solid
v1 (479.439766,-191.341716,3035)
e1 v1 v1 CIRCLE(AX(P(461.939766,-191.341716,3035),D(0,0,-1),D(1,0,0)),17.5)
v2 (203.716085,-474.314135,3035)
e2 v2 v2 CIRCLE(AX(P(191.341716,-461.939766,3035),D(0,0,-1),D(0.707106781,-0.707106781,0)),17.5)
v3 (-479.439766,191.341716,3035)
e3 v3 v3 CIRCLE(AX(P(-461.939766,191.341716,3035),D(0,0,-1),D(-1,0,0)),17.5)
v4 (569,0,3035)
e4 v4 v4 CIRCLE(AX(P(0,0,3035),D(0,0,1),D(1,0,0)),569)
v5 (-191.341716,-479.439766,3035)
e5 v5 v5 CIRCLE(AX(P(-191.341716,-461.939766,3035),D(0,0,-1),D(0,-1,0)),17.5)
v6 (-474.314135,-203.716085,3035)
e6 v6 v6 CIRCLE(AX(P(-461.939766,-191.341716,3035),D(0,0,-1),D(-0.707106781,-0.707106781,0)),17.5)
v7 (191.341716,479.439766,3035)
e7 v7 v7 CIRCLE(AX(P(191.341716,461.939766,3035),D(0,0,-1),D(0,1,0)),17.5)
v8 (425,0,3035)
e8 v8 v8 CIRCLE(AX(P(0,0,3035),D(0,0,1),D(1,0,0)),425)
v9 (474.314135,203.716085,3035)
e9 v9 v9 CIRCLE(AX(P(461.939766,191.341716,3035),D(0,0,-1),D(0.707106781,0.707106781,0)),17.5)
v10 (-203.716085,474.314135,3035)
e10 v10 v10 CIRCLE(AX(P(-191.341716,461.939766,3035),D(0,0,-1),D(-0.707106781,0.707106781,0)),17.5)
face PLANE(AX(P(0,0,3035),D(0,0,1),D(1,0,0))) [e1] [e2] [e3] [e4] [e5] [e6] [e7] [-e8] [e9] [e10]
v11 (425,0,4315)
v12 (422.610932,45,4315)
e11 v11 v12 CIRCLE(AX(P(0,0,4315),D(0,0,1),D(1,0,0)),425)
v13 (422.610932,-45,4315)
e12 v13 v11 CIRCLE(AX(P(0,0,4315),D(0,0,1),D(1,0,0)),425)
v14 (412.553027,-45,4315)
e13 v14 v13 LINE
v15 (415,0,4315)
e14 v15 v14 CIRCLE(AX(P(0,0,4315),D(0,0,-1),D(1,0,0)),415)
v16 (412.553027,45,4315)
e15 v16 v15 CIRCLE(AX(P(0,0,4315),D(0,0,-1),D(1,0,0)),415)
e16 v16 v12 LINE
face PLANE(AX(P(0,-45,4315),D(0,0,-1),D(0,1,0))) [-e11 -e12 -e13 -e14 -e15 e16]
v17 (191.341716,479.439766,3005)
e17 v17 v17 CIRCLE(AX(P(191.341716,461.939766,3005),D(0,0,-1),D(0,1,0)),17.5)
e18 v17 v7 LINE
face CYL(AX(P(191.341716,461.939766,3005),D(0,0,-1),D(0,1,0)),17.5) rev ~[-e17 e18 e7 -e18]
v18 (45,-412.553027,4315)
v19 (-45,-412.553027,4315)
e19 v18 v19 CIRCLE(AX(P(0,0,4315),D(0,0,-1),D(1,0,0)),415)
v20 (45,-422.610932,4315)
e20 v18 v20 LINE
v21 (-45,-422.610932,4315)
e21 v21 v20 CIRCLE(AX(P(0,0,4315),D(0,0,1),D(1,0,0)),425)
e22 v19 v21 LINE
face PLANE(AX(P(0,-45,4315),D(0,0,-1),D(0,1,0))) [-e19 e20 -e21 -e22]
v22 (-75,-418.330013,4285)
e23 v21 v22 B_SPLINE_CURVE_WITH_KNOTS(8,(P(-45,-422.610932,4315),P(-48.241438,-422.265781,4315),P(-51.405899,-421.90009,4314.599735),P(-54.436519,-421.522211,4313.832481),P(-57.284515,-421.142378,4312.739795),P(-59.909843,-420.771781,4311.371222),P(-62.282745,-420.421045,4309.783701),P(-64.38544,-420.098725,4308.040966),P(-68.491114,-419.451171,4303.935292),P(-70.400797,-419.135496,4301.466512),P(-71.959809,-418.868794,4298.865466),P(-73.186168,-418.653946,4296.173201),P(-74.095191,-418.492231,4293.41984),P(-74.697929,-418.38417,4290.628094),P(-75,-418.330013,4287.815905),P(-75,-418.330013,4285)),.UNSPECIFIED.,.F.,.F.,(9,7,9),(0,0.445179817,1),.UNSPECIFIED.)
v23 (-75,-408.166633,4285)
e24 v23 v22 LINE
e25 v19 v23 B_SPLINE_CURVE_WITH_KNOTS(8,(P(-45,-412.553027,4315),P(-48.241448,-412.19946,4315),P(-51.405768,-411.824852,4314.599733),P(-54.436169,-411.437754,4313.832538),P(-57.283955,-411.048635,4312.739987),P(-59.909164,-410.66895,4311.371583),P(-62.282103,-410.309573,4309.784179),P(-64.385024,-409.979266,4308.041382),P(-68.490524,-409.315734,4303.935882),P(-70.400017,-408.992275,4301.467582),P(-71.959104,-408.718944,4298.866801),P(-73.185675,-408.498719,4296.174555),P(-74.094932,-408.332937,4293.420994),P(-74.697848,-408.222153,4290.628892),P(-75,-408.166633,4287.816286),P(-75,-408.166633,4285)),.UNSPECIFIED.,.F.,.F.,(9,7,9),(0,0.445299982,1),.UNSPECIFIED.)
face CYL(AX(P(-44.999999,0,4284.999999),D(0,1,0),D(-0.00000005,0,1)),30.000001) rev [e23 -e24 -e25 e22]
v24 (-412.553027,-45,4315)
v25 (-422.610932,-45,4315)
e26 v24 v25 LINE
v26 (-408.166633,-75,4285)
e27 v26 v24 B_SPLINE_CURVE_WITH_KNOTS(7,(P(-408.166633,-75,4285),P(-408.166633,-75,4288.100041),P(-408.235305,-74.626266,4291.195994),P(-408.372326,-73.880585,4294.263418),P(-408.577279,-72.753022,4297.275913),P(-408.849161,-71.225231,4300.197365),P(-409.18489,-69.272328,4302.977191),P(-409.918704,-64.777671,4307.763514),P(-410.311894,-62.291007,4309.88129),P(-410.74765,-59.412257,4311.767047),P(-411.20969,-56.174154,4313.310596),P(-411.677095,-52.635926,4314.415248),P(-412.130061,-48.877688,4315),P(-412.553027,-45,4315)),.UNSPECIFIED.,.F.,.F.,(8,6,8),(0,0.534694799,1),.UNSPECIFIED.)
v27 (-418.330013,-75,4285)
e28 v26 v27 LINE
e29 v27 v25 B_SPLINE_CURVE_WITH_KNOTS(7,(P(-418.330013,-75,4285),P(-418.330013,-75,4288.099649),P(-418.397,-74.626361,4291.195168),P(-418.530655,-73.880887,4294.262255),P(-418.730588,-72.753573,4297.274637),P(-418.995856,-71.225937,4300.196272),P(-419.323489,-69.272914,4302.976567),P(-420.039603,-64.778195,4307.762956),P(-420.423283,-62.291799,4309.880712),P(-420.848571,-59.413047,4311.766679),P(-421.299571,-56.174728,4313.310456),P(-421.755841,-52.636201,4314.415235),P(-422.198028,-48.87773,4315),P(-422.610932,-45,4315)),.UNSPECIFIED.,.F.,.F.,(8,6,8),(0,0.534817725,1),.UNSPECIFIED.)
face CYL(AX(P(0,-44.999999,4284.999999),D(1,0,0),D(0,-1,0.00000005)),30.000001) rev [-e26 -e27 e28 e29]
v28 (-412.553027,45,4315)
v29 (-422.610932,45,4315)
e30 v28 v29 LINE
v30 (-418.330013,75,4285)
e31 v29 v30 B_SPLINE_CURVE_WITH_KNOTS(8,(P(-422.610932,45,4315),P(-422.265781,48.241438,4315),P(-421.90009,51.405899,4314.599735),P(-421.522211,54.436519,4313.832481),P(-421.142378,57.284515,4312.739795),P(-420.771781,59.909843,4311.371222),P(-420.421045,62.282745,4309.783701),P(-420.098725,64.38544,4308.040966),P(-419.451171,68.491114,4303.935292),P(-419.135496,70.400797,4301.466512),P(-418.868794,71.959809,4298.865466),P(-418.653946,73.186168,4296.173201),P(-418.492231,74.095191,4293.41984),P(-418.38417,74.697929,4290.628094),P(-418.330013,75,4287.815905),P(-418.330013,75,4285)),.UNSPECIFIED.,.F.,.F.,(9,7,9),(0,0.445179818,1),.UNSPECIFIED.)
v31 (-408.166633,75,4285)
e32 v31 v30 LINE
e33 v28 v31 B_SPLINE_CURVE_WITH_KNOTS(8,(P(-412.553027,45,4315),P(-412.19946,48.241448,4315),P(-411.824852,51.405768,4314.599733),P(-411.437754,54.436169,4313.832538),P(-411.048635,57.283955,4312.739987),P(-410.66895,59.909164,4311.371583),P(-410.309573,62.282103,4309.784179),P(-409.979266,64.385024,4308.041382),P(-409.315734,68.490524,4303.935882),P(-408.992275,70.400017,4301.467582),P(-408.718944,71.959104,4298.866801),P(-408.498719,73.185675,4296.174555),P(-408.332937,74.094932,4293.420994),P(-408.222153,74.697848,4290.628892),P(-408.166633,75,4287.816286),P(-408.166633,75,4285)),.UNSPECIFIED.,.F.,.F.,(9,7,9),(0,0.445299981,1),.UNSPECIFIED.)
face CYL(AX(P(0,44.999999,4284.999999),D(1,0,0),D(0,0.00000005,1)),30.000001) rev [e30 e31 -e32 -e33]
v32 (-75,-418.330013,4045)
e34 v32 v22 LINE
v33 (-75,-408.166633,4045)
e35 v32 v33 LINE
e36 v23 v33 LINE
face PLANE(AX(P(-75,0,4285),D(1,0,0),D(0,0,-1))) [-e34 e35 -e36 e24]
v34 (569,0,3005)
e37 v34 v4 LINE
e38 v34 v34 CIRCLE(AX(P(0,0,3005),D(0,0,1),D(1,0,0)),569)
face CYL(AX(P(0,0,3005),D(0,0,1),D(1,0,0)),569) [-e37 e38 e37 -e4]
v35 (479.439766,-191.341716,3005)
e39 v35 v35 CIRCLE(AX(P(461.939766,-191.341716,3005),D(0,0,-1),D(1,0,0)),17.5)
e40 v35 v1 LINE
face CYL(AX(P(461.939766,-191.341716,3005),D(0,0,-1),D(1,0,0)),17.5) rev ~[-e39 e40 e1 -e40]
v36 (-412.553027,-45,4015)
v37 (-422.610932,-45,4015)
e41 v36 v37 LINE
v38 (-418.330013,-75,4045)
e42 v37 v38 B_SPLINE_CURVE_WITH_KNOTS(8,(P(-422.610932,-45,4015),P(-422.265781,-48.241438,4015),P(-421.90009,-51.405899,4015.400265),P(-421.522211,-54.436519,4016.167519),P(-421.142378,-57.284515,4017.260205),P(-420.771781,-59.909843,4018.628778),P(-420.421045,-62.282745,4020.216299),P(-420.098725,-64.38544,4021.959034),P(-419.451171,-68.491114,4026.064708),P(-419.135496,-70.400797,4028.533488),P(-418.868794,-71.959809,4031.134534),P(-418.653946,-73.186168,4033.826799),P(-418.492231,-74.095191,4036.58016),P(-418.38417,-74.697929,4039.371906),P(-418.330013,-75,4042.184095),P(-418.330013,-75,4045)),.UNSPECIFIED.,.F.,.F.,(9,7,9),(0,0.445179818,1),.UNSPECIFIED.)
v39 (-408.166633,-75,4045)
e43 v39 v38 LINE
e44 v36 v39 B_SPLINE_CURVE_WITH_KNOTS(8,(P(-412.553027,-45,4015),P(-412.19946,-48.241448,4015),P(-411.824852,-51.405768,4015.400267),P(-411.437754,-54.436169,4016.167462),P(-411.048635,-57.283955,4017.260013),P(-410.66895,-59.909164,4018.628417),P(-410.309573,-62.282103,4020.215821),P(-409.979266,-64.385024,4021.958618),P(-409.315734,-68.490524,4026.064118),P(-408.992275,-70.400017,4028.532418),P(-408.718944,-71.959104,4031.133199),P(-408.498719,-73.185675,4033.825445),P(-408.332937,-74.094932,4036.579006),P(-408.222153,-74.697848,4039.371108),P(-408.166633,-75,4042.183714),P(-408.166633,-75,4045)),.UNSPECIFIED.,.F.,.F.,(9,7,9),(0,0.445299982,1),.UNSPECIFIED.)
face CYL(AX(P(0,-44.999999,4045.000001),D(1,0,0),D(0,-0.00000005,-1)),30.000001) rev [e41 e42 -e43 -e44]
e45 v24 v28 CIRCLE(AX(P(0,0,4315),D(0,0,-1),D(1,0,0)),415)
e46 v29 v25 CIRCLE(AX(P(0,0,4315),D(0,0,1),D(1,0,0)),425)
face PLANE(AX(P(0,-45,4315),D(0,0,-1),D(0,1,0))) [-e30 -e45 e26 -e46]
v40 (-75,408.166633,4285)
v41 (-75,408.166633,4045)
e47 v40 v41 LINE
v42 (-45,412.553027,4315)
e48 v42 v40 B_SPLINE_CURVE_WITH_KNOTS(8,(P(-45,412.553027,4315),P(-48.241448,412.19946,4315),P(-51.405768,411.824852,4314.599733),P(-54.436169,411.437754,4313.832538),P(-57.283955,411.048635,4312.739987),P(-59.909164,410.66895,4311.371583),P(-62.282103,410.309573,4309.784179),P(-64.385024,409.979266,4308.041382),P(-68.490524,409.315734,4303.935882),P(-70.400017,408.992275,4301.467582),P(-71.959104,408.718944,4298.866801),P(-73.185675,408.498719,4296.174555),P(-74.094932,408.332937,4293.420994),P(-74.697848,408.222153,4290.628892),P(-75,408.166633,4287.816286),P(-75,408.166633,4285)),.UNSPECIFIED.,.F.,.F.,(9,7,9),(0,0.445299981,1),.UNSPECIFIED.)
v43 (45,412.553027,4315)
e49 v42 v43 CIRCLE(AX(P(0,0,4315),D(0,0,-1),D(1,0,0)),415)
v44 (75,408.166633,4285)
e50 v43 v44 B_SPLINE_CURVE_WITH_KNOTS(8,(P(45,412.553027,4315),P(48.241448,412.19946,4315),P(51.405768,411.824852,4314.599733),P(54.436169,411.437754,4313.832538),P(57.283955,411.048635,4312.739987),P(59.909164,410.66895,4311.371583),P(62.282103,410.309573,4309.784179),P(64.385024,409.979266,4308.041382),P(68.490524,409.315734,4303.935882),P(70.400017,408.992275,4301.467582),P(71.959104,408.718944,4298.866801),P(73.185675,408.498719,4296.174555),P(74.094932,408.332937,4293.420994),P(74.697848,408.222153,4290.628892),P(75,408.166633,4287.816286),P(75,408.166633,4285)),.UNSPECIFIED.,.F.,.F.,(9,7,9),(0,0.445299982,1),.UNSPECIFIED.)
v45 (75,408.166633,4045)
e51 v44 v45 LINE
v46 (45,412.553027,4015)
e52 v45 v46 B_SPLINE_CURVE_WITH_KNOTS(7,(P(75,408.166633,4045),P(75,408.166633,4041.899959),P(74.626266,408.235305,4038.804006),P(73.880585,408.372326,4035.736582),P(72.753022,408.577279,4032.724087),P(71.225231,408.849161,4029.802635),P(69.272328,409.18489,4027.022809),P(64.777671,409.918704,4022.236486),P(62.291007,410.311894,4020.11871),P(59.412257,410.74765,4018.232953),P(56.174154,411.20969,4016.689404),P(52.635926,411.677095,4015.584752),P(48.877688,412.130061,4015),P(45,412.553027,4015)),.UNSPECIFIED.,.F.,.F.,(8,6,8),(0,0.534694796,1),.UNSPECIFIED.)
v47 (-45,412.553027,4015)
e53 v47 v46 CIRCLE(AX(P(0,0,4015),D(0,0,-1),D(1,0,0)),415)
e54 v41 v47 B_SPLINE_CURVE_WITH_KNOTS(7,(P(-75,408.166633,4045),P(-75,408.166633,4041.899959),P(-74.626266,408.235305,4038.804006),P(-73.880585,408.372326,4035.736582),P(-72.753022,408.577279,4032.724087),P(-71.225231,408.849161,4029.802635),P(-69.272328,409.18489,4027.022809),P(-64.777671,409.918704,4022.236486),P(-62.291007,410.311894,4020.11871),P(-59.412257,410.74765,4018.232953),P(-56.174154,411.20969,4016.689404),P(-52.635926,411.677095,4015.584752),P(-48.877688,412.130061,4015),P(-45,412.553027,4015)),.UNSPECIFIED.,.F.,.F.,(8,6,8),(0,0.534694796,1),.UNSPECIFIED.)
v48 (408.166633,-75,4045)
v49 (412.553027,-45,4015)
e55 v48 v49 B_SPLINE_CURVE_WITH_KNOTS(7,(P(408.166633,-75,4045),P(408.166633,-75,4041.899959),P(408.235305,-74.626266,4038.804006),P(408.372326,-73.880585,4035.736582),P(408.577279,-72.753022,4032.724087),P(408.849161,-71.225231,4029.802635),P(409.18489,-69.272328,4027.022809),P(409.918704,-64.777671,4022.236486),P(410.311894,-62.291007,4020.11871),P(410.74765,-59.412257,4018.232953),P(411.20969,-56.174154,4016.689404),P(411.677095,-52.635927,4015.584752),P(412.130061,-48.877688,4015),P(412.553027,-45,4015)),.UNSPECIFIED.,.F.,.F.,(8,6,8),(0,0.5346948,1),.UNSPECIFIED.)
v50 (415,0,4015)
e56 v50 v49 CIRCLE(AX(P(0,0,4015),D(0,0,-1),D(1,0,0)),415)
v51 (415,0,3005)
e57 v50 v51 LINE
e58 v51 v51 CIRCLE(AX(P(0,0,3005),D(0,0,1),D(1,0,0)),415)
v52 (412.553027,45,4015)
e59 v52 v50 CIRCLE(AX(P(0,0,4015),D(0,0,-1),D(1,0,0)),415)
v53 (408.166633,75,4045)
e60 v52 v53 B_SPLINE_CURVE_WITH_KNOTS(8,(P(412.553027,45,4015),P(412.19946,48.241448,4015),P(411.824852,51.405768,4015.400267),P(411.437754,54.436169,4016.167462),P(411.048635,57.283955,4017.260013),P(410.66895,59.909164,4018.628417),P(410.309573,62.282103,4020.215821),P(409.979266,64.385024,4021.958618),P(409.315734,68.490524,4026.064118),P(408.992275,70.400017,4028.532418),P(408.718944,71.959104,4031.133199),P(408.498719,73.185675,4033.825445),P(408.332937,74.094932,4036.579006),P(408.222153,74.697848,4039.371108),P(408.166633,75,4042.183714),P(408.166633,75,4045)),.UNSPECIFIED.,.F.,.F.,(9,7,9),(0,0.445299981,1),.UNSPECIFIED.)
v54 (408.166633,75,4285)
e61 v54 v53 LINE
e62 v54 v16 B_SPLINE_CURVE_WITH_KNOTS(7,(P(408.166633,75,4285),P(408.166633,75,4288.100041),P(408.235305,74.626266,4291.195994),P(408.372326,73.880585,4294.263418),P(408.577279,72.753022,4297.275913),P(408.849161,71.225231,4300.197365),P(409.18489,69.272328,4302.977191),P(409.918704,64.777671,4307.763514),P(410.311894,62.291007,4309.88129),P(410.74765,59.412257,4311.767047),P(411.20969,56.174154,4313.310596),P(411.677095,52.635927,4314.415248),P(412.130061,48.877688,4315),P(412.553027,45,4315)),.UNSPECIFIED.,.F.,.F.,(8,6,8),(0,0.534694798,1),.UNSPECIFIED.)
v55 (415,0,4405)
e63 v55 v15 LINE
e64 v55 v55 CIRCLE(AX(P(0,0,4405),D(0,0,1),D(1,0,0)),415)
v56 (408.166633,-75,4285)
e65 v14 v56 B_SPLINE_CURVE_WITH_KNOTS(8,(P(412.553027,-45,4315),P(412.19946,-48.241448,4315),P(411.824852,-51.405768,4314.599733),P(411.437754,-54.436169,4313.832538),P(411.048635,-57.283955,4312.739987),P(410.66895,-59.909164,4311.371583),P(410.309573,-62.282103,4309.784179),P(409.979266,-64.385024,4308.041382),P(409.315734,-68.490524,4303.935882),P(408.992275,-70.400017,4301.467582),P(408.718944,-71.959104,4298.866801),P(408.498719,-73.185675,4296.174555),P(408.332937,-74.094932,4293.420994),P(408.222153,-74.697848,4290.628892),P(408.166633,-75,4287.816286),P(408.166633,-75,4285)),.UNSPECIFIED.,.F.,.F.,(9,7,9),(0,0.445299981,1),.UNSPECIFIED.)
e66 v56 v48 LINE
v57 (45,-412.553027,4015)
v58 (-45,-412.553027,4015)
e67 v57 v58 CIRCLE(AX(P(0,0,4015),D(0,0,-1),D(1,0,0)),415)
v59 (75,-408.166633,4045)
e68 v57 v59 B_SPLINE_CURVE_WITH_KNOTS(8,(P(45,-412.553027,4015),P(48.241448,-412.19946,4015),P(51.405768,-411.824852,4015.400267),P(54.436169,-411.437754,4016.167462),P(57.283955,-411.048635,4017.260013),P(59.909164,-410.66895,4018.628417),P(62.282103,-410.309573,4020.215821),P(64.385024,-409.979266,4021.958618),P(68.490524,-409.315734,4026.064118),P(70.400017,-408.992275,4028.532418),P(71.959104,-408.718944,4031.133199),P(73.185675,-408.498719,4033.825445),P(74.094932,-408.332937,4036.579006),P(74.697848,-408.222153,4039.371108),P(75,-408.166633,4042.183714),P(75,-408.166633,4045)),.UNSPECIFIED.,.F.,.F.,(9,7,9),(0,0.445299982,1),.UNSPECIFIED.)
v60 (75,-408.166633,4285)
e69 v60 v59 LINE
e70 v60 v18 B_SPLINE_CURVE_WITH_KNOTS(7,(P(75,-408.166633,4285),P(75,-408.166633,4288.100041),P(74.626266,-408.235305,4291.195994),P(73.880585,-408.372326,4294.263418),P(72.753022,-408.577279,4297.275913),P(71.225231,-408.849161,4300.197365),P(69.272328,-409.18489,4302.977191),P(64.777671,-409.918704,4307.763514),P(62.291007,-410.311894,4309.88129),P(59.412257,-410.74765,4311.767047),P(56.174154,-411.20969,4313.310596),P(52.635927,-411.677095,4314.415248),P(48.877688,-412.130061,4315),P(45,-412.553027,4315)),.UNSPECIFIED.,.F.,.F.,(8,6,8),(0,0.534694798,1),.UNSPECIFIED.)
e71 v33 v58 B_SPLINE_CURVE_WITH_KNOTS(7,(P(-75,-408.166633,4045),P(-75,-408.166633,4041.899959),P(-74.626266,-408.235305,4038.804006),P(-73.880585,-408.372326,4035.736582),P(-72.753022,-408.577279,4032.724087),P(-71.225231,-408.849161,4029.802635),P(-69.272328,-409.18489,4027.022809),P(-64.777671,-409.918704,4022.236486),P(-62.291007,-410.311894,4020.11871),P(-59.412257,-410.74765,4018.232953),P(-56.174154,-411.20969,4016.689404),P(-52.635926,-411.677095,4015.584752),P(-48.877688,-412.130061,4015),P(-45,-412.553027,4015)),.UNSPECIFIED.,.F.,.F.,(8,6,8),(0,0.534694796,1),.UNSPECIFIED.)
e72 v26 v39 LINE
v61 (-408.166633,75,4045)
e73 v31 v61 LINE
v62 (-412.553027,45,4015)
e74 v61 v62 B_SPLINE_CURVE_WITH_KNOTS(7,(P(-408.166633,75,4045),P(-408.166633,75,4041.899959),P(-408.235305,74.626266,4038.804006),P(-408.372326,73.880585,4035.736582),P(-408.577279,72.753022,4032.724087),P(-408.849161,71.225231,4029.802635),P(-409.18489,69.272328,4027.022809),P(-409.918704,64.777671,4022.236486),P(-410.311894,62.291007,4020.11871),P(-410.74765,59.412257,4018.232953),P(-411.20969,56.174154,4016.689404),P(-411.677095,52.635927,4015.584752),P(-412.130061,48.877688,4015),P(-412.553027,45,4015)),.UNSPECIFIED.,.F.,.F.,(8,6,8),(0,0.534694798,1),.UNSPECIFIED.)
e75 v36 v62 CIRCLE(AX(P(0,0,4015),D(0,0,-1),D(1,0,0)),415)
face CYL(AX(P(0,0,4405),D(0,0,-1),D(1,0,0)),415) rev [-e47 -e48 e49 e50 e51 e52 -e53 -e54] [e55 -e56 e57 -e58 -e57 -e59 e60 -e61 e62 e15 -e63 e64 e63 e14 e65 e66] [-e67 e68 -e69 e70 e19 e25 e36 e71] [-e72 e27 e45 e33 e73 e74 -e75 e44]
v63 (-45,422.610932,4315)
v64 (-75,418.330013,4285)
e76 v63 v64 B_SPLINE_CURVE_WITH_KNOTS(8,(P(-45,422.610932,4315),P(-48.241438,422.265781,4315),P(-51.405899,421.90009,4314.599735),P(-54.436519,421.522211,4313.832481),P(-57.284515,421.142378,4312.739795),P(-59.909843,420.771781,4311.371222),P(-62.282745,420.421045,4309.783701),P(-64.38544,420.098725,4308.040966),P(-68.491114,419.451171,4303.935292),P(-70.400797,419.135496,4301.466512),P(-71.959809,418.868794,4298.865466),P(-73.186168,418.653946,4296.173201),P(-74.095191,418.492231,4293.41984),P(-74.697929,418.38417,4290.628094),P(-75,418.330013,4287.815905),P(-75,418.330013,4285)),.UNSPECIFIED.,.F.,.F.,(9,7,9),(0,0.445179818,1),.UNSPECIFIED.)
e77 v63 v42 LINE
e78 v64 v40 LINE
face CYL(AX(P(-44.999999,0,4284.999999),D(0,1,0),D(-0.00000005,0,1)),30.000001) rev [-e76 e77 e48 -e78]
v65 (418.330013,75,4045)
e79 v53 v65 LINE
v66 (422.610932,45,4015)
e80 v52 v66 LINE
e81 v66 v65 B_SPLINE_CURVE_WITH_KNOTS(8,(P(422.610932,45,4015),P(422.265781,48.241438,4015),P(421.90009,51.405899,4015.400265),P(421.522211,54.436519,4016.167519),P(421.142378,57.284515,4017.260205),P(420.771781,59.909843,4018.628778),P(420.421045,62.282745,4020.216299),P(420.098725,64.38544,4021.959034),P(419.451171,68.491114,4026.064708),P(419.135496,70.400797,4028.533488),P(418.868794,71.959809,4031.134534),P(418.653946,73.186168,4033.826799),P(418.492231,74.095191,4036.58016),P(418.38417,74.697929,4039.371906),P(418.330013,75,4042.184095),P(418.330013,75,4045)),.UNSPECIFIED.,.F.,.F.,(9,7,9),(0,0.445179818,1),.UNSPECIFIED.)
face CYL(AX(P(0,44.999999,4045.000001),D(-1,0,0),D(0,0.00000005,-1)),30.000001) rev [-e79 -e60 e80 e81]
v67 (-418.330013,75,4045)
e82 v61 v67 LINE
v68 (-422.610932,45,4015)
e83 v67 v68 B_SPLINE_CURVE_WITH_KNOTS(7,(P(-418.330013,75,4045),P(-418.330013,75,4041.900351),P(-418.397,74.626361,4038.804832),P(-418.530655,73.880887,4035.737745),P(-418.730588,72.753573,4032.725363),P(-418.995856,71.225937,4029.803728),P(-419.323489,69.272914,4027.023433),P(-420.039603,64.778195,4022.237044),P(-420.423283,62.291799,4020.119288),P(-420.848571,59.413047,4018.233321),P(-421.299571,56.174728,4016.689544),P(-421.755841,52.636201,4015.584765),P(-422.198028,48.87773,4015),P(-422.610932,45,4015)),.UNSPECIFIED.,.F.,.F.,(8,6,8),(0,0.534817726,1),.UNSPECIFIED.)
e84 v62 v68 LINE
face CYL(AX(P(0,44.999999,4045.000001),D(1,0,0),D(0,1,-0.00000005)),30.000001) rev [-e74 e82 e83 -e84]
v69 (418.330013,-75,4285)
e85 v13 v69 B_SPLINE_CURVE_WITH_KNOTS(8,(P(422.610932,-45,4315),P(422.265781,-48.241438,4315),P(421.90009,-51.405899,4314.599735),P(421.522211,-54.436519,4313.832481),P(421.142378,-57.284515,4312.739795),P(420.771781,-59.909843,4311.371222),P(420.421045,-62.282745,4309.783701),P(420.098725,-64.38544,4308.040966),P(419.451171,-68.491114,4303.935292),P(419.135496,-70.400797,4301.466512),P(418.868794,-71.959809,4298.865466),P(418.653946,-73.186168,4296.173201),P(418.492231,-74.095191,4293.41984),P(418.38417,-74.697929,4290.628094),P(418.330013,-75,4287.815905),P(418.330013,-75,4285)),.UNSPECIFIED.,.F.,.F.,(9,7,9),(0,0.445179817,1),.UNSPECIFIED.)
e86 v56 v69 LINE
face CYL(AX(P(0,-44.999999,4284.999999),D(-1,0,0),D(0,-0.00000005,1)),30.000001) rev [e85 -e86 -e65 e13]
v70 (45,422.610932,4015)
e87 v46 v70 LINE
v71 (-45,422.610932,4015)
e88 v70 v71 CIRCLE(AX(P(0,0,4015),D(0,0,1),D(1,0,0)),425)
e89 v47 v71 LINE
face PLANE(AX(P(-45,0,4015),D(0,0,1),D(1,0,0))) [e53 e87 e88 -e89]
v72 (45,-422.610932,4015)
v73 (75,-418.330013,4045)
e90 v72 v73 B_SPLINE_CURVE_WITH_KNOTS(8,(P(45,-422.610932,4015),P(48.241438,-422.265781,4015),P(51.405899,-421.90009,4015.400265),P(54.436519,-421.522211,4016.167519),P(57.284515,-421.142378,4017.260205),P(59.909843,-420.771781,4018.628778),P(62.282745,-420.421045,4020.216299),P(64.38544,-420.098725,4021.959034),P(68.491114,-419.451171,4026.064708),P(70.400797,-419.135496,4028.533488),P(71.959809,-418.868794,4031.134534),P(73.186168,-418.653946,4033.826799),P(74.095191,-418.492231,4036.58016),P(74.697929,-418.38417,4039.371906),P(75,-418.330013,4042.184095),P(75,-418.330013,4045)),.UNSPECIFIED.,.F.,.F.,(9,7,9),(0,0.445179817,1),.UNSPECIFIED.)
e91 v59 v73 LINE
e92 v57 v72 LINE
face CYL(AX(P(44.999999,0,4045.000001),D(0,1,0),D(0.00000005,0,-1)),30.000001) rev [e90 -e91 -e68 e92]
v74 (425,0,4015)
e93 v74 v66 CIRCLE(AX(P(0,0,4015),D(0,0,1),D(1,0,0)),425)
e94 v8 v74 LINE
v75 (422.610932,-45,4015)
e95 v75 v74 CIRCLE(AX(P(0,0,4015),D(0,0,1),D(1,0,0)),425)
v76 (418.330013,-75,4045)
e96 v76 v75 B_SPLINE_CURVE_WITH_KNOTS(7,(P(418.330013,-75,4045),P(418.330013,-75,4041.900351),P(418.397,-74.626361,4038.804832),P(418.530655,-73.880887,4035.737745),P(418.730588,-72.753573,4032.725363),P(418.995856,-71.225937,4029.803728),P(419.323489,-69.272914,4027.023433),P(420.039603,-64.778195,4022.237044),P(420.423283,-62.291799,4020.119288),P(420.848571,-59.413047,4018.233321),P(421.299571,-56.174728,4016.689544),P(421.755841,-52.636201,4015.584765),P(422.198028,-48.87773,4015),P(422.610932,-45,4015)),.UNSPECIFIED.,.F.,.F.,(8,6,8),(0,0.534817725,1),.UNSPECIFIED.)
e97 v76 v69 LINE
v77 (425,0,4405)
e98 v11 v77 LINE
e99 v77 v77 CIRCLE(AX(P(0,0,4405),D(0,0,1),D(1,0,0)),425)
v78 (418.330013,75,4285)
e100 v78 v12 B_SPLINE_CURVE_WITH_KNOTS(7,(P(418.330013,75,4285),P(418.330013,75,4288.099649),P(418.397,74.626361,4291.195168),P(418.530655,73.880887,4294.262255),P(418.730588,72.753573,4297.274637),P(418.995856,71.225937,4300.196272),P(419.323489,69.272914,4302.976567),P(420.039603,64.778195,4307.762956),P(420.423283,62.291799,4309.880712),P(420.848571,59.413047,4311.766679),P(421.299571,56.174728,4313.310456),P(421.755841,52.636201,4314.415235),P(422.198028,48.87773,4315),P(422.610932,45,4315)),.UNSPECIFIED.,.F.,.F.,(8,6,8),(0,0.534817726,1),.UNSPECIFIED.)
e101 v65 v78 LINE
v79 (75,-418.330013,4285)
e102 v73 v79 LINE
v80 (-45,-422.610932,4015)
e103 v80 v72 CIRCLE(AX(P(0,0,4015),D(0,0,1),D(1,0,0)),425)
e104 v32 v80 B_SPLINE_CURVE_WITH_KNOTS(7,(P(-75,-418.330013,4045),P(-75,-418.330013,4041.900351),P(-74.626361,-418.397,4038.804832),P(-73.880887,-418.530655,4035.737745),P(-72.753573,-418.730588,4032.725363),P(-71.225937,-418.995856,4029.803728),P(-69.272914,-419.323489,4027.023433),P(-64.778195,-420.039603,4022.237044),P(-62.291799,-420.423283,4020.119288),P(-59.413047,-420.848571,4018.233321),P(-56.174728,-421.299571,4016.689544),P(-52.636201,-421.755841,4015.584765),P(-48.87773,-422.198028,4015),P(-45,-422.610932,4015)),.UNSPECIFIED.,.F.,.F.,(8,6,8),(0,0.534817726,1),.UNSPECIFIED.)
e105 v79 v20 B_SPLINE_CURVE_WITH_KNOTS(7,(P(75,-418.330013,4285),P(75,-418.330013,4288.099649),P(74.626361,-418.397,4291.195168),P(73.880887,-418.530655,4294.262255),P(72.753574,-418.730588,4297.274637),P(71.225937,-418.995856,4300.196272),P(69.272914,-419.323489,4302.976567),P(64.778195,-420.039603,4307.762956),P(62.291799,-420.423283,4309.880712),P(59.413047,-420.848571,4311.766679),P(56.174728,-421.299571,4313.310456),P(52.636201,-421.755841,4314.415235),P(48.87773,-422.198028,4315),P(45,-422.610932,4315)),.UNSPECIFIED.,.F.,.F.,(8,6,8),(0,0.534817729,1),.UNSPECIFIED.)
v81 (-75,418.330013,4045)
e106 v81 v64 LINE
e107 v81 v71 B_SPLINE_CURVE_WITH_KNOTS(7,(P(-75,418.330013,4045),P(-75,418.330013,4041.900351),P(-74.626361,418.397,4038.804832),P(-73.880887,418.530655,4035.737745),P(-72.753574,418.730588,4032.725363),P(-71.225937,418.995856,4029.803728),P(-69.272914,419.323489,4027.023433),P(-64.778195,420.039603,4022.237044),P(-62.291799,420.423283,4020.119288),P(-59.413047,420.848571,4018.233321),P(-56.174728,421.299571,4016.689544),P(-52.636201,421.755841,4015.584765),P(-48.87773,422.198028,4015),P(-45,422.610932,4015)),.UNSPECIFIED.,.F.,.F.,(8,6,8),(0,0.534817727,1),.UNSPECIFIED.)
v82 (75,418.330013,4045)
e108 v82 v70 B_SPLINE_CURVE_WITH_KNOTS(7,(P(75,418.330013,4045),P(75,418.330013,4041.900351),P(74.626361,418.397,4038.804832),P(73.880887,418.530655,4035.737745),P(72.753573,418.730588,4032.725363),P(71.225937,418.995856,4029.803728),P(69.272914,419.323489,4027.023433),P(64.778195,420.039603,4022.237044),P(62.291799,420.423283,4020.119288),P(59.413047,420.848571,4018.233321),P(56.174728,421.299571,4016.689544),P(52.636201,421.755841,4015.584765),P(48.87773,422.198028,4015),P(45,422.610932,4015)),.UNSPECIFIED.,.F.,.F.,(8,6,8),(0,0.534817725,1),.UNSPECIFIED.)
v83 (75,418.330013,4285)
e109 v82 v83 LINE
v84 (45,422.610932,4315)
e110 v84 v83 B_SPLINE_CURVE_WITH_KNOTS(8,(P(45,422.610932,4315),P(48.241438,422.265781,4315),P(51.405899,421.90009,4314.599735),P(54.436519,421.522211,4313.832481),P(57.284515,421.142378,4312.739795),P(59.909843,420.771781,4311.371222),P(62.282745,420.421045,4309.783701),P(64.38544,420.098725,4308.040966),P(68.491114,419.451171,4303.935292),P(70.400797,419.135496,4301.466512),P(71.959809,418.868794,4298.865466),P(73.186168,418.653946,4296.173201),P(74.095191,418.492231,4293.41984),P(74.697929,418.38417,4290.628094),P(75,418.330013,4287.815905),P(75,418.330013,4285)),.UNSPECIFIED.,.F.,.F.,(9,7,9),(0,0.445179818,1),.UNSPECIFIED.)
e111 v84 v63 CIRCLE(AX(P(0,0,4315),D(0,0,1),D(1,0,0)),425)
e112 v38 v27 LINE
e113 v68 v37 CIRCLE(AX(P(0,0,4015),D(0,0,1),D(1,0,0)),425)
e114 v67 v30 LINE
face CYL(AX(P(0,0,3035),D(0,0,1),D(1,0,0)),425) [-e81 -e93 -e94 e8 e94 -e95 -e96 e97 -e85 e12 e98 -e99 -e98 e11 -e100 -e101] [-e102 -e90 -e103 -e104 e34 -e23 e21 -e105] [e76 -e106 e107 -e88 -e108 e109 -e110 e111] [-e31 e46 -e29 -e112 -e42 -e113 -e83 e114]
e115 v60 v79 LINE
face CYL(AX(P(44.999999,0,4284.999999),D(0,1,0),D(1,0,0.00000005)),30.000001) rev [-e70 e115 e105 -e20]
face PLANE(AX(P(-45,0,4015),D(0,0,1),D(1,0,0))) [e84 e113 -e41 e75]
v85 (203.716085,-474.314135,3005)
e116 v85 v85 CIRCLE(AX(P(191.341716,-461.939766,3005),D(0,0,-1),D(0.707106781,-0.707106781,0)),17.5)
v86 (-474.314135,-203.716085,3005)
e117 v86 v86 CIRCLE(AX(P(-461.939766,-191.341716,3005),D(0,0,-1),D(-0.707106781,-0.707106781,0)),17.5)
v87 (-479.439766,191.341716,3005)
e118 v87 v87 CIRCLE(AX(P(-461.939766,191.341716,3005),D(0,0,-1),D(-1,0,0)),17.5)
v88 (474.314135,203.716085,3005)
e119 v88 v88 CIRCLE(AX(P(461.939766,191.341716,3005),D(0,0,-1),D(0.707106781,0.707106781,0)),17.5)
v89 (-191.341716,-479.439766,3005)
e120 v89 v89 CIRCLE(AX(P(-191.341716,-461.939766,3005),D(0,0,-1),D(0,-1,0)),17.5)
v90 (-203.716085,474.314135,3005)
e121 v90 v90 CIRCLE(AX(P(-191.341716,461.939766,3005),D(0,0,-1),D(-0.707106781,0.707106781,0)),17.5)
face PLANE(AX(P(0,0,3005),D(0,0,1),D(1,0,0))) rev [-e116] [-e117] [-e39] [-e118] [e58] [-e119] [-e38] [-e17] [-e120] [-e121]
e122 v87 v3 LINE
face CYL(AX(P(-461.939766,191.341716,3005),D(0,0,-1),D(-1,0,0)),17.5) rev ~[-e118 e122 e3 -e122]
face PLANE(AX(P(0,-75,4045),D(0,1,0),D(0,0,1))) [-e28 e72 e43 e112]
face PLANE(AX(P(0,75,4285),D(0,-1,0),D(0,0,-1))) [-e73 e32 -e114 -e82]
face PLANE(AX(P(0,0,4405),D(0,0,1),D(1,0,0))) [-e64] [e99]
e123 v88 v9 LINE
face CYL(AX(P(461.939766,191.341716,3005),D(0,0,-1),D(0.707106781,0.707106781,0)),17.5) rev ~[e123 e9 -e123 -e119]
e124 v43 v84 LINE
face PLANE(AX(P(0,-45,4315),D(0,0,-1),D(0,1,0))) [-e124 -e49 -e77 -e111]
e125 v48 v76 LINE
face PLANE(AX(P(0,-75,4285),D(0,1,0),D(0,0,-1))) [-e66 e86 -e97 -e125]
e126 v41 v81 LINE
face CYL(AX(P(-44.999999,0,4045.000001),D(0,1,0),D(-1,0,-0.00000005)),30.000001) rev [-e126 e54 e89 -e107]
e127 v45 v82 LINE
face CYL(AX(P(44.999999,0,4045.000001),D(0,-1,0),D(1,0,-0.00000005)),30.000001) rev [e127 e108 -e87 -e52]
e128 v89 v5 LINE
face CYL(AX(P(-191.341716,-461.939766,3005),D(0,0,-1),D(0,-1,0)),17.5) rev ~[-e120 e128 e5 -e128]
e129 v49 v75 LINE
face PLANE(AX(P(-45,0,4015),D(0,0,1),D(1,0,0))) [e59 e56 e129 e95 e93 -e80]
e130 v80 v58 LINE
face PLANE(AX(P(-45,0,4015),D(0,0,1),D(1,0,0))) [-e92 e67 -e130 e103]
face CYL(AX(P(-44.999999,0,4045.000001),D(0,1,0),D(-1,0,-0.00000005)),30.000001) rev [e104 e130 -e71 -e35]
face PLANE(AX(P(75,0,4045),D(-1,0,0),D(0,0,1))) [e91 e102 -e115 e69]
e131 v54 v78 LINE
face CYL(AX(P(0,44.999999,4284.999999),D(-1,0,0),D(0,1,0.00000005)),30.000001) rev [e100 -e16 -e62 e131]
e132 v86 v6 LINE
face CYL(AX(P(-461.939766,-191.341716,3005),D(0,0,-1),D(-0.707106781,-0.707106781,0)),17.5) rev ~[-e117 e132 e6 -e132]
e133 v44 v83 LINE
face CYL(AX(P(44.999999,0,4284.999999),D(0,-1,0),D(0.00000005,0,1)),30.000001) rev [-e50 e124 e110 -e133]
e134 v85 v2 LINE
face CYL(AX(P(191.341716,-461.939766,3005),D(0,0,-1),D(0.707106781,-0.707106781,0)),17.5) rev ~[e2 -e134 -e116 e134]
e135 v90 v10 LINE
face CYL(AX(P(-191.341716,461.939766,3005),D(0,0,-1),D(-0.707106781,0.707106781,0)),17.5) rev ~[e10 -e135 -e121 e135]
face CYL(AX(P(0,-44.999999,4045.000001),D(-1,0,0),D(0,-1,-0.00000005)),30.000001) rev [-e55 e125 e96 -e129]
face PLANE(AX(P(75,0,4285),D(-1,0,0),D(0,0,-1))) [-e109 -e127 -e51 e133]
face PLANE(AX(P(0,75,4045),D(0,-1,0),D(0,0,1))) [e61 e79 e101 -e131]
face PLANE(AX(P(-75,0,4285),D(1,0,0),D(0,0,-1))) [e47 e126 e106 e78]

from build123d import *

# Parameters (mm, degrees)
SKETCH011_R      = 17.5
EXTRUDE005_DEPTH = 30
ARRAY004_COUNT   = 8
EXTRUDE_DEPTH    = 500
ARRAY_COUNT      = 4


with BuildPart() as extrude005:
    # Sketch011 (on Face4 of Cut) → Extrude005 (new body)
    with BuildSketch(Plane(origin=(0, 0, 2955), x_dir=(1, 0, 0), z_dir=(0, 0, -1))):
        with Locations((461.939766, 191.341716)):
            Circle(SKETCH011_R)
    extrude(amount=-EXTRUDE005_DEPTH)


with BuildPart() as array004:
    # Array004 base: copy of Extrude005
    add(extrude005.part)

    # Array004: Array004 ×8 about axis
    array004_axis = Axis((0, 0, 0), (0, 0, 1))


with BuildPart() as array004_1:
    add(array004.part)
    for i in range(1, ARRAY004_COUNT):
        add(array004.part.rotate(array004_axis, i * 360 / ARRAY004_COUNT))


with BuildPart() as array:
    # Sketch010 → Extrude (new body)
    with BuildSketch(Plane.XZ):
        with BuildLine():
            Line((-45, 3965), (45, 3965))
            ThreePointArc((45, 3965), (66.213203, 3973.786797), (75, 3995))
            Line((75, 3995), (75, 4235))
            ThreePointArc((75, 4235), (66.213203, 4256.213203), (45, 4265))
            Line((45, 4265), (-45, 4265))
            ThreePointArc((-45, 4265), (-66.213203, 4256.213203), (-75, 4235))
            Line((-75, 4235), (-75, 3995))
            ThreePointArc((-75, 3995), (-66.213203, 3973.786797), (-45, 3965))
        make_face()
    extrude(amount=EXTRUDE_DEPTH)

    # Array: Array ×4 about axis
    array_axis = Axis((0, 0, 0), (0, 0, 1))


with BuildPart() as array_1:
    add(array.part)
    for i in range(1, ARRAY_COUNT):
        add(array.part.rotate(array_axis, i * 360 / ARRAY_COUNT))


with BuildPart() as top001:
    # Sketch003 → Revolve003 (revolve)
    with BuildSketch(Plane.XZ):
        Polygon((569, 2985), (425, 2985), (425, 4355), (415, 4355), (415, 2955), (569, 2955), align=None)
    revolve(axis=Axis((0, 0, 0), (0, 0, 1)))

    # Cut: cut Array
    add(array_1.part, mode=Mode.SUBTRACT)

    # Cut004: cut Extrude005
    add(extrude005.part, mode=Mode.SUBTRACT)

    # Cut005: cut Array004
    add(array004_1.part, mode=Mode.SUBTRACT)


with BuildPart() as top001_1:
    # Cut005 placement: moved
    add(top001.part.moved(Location((0, 0, 50))))


solid = top001_1.part
